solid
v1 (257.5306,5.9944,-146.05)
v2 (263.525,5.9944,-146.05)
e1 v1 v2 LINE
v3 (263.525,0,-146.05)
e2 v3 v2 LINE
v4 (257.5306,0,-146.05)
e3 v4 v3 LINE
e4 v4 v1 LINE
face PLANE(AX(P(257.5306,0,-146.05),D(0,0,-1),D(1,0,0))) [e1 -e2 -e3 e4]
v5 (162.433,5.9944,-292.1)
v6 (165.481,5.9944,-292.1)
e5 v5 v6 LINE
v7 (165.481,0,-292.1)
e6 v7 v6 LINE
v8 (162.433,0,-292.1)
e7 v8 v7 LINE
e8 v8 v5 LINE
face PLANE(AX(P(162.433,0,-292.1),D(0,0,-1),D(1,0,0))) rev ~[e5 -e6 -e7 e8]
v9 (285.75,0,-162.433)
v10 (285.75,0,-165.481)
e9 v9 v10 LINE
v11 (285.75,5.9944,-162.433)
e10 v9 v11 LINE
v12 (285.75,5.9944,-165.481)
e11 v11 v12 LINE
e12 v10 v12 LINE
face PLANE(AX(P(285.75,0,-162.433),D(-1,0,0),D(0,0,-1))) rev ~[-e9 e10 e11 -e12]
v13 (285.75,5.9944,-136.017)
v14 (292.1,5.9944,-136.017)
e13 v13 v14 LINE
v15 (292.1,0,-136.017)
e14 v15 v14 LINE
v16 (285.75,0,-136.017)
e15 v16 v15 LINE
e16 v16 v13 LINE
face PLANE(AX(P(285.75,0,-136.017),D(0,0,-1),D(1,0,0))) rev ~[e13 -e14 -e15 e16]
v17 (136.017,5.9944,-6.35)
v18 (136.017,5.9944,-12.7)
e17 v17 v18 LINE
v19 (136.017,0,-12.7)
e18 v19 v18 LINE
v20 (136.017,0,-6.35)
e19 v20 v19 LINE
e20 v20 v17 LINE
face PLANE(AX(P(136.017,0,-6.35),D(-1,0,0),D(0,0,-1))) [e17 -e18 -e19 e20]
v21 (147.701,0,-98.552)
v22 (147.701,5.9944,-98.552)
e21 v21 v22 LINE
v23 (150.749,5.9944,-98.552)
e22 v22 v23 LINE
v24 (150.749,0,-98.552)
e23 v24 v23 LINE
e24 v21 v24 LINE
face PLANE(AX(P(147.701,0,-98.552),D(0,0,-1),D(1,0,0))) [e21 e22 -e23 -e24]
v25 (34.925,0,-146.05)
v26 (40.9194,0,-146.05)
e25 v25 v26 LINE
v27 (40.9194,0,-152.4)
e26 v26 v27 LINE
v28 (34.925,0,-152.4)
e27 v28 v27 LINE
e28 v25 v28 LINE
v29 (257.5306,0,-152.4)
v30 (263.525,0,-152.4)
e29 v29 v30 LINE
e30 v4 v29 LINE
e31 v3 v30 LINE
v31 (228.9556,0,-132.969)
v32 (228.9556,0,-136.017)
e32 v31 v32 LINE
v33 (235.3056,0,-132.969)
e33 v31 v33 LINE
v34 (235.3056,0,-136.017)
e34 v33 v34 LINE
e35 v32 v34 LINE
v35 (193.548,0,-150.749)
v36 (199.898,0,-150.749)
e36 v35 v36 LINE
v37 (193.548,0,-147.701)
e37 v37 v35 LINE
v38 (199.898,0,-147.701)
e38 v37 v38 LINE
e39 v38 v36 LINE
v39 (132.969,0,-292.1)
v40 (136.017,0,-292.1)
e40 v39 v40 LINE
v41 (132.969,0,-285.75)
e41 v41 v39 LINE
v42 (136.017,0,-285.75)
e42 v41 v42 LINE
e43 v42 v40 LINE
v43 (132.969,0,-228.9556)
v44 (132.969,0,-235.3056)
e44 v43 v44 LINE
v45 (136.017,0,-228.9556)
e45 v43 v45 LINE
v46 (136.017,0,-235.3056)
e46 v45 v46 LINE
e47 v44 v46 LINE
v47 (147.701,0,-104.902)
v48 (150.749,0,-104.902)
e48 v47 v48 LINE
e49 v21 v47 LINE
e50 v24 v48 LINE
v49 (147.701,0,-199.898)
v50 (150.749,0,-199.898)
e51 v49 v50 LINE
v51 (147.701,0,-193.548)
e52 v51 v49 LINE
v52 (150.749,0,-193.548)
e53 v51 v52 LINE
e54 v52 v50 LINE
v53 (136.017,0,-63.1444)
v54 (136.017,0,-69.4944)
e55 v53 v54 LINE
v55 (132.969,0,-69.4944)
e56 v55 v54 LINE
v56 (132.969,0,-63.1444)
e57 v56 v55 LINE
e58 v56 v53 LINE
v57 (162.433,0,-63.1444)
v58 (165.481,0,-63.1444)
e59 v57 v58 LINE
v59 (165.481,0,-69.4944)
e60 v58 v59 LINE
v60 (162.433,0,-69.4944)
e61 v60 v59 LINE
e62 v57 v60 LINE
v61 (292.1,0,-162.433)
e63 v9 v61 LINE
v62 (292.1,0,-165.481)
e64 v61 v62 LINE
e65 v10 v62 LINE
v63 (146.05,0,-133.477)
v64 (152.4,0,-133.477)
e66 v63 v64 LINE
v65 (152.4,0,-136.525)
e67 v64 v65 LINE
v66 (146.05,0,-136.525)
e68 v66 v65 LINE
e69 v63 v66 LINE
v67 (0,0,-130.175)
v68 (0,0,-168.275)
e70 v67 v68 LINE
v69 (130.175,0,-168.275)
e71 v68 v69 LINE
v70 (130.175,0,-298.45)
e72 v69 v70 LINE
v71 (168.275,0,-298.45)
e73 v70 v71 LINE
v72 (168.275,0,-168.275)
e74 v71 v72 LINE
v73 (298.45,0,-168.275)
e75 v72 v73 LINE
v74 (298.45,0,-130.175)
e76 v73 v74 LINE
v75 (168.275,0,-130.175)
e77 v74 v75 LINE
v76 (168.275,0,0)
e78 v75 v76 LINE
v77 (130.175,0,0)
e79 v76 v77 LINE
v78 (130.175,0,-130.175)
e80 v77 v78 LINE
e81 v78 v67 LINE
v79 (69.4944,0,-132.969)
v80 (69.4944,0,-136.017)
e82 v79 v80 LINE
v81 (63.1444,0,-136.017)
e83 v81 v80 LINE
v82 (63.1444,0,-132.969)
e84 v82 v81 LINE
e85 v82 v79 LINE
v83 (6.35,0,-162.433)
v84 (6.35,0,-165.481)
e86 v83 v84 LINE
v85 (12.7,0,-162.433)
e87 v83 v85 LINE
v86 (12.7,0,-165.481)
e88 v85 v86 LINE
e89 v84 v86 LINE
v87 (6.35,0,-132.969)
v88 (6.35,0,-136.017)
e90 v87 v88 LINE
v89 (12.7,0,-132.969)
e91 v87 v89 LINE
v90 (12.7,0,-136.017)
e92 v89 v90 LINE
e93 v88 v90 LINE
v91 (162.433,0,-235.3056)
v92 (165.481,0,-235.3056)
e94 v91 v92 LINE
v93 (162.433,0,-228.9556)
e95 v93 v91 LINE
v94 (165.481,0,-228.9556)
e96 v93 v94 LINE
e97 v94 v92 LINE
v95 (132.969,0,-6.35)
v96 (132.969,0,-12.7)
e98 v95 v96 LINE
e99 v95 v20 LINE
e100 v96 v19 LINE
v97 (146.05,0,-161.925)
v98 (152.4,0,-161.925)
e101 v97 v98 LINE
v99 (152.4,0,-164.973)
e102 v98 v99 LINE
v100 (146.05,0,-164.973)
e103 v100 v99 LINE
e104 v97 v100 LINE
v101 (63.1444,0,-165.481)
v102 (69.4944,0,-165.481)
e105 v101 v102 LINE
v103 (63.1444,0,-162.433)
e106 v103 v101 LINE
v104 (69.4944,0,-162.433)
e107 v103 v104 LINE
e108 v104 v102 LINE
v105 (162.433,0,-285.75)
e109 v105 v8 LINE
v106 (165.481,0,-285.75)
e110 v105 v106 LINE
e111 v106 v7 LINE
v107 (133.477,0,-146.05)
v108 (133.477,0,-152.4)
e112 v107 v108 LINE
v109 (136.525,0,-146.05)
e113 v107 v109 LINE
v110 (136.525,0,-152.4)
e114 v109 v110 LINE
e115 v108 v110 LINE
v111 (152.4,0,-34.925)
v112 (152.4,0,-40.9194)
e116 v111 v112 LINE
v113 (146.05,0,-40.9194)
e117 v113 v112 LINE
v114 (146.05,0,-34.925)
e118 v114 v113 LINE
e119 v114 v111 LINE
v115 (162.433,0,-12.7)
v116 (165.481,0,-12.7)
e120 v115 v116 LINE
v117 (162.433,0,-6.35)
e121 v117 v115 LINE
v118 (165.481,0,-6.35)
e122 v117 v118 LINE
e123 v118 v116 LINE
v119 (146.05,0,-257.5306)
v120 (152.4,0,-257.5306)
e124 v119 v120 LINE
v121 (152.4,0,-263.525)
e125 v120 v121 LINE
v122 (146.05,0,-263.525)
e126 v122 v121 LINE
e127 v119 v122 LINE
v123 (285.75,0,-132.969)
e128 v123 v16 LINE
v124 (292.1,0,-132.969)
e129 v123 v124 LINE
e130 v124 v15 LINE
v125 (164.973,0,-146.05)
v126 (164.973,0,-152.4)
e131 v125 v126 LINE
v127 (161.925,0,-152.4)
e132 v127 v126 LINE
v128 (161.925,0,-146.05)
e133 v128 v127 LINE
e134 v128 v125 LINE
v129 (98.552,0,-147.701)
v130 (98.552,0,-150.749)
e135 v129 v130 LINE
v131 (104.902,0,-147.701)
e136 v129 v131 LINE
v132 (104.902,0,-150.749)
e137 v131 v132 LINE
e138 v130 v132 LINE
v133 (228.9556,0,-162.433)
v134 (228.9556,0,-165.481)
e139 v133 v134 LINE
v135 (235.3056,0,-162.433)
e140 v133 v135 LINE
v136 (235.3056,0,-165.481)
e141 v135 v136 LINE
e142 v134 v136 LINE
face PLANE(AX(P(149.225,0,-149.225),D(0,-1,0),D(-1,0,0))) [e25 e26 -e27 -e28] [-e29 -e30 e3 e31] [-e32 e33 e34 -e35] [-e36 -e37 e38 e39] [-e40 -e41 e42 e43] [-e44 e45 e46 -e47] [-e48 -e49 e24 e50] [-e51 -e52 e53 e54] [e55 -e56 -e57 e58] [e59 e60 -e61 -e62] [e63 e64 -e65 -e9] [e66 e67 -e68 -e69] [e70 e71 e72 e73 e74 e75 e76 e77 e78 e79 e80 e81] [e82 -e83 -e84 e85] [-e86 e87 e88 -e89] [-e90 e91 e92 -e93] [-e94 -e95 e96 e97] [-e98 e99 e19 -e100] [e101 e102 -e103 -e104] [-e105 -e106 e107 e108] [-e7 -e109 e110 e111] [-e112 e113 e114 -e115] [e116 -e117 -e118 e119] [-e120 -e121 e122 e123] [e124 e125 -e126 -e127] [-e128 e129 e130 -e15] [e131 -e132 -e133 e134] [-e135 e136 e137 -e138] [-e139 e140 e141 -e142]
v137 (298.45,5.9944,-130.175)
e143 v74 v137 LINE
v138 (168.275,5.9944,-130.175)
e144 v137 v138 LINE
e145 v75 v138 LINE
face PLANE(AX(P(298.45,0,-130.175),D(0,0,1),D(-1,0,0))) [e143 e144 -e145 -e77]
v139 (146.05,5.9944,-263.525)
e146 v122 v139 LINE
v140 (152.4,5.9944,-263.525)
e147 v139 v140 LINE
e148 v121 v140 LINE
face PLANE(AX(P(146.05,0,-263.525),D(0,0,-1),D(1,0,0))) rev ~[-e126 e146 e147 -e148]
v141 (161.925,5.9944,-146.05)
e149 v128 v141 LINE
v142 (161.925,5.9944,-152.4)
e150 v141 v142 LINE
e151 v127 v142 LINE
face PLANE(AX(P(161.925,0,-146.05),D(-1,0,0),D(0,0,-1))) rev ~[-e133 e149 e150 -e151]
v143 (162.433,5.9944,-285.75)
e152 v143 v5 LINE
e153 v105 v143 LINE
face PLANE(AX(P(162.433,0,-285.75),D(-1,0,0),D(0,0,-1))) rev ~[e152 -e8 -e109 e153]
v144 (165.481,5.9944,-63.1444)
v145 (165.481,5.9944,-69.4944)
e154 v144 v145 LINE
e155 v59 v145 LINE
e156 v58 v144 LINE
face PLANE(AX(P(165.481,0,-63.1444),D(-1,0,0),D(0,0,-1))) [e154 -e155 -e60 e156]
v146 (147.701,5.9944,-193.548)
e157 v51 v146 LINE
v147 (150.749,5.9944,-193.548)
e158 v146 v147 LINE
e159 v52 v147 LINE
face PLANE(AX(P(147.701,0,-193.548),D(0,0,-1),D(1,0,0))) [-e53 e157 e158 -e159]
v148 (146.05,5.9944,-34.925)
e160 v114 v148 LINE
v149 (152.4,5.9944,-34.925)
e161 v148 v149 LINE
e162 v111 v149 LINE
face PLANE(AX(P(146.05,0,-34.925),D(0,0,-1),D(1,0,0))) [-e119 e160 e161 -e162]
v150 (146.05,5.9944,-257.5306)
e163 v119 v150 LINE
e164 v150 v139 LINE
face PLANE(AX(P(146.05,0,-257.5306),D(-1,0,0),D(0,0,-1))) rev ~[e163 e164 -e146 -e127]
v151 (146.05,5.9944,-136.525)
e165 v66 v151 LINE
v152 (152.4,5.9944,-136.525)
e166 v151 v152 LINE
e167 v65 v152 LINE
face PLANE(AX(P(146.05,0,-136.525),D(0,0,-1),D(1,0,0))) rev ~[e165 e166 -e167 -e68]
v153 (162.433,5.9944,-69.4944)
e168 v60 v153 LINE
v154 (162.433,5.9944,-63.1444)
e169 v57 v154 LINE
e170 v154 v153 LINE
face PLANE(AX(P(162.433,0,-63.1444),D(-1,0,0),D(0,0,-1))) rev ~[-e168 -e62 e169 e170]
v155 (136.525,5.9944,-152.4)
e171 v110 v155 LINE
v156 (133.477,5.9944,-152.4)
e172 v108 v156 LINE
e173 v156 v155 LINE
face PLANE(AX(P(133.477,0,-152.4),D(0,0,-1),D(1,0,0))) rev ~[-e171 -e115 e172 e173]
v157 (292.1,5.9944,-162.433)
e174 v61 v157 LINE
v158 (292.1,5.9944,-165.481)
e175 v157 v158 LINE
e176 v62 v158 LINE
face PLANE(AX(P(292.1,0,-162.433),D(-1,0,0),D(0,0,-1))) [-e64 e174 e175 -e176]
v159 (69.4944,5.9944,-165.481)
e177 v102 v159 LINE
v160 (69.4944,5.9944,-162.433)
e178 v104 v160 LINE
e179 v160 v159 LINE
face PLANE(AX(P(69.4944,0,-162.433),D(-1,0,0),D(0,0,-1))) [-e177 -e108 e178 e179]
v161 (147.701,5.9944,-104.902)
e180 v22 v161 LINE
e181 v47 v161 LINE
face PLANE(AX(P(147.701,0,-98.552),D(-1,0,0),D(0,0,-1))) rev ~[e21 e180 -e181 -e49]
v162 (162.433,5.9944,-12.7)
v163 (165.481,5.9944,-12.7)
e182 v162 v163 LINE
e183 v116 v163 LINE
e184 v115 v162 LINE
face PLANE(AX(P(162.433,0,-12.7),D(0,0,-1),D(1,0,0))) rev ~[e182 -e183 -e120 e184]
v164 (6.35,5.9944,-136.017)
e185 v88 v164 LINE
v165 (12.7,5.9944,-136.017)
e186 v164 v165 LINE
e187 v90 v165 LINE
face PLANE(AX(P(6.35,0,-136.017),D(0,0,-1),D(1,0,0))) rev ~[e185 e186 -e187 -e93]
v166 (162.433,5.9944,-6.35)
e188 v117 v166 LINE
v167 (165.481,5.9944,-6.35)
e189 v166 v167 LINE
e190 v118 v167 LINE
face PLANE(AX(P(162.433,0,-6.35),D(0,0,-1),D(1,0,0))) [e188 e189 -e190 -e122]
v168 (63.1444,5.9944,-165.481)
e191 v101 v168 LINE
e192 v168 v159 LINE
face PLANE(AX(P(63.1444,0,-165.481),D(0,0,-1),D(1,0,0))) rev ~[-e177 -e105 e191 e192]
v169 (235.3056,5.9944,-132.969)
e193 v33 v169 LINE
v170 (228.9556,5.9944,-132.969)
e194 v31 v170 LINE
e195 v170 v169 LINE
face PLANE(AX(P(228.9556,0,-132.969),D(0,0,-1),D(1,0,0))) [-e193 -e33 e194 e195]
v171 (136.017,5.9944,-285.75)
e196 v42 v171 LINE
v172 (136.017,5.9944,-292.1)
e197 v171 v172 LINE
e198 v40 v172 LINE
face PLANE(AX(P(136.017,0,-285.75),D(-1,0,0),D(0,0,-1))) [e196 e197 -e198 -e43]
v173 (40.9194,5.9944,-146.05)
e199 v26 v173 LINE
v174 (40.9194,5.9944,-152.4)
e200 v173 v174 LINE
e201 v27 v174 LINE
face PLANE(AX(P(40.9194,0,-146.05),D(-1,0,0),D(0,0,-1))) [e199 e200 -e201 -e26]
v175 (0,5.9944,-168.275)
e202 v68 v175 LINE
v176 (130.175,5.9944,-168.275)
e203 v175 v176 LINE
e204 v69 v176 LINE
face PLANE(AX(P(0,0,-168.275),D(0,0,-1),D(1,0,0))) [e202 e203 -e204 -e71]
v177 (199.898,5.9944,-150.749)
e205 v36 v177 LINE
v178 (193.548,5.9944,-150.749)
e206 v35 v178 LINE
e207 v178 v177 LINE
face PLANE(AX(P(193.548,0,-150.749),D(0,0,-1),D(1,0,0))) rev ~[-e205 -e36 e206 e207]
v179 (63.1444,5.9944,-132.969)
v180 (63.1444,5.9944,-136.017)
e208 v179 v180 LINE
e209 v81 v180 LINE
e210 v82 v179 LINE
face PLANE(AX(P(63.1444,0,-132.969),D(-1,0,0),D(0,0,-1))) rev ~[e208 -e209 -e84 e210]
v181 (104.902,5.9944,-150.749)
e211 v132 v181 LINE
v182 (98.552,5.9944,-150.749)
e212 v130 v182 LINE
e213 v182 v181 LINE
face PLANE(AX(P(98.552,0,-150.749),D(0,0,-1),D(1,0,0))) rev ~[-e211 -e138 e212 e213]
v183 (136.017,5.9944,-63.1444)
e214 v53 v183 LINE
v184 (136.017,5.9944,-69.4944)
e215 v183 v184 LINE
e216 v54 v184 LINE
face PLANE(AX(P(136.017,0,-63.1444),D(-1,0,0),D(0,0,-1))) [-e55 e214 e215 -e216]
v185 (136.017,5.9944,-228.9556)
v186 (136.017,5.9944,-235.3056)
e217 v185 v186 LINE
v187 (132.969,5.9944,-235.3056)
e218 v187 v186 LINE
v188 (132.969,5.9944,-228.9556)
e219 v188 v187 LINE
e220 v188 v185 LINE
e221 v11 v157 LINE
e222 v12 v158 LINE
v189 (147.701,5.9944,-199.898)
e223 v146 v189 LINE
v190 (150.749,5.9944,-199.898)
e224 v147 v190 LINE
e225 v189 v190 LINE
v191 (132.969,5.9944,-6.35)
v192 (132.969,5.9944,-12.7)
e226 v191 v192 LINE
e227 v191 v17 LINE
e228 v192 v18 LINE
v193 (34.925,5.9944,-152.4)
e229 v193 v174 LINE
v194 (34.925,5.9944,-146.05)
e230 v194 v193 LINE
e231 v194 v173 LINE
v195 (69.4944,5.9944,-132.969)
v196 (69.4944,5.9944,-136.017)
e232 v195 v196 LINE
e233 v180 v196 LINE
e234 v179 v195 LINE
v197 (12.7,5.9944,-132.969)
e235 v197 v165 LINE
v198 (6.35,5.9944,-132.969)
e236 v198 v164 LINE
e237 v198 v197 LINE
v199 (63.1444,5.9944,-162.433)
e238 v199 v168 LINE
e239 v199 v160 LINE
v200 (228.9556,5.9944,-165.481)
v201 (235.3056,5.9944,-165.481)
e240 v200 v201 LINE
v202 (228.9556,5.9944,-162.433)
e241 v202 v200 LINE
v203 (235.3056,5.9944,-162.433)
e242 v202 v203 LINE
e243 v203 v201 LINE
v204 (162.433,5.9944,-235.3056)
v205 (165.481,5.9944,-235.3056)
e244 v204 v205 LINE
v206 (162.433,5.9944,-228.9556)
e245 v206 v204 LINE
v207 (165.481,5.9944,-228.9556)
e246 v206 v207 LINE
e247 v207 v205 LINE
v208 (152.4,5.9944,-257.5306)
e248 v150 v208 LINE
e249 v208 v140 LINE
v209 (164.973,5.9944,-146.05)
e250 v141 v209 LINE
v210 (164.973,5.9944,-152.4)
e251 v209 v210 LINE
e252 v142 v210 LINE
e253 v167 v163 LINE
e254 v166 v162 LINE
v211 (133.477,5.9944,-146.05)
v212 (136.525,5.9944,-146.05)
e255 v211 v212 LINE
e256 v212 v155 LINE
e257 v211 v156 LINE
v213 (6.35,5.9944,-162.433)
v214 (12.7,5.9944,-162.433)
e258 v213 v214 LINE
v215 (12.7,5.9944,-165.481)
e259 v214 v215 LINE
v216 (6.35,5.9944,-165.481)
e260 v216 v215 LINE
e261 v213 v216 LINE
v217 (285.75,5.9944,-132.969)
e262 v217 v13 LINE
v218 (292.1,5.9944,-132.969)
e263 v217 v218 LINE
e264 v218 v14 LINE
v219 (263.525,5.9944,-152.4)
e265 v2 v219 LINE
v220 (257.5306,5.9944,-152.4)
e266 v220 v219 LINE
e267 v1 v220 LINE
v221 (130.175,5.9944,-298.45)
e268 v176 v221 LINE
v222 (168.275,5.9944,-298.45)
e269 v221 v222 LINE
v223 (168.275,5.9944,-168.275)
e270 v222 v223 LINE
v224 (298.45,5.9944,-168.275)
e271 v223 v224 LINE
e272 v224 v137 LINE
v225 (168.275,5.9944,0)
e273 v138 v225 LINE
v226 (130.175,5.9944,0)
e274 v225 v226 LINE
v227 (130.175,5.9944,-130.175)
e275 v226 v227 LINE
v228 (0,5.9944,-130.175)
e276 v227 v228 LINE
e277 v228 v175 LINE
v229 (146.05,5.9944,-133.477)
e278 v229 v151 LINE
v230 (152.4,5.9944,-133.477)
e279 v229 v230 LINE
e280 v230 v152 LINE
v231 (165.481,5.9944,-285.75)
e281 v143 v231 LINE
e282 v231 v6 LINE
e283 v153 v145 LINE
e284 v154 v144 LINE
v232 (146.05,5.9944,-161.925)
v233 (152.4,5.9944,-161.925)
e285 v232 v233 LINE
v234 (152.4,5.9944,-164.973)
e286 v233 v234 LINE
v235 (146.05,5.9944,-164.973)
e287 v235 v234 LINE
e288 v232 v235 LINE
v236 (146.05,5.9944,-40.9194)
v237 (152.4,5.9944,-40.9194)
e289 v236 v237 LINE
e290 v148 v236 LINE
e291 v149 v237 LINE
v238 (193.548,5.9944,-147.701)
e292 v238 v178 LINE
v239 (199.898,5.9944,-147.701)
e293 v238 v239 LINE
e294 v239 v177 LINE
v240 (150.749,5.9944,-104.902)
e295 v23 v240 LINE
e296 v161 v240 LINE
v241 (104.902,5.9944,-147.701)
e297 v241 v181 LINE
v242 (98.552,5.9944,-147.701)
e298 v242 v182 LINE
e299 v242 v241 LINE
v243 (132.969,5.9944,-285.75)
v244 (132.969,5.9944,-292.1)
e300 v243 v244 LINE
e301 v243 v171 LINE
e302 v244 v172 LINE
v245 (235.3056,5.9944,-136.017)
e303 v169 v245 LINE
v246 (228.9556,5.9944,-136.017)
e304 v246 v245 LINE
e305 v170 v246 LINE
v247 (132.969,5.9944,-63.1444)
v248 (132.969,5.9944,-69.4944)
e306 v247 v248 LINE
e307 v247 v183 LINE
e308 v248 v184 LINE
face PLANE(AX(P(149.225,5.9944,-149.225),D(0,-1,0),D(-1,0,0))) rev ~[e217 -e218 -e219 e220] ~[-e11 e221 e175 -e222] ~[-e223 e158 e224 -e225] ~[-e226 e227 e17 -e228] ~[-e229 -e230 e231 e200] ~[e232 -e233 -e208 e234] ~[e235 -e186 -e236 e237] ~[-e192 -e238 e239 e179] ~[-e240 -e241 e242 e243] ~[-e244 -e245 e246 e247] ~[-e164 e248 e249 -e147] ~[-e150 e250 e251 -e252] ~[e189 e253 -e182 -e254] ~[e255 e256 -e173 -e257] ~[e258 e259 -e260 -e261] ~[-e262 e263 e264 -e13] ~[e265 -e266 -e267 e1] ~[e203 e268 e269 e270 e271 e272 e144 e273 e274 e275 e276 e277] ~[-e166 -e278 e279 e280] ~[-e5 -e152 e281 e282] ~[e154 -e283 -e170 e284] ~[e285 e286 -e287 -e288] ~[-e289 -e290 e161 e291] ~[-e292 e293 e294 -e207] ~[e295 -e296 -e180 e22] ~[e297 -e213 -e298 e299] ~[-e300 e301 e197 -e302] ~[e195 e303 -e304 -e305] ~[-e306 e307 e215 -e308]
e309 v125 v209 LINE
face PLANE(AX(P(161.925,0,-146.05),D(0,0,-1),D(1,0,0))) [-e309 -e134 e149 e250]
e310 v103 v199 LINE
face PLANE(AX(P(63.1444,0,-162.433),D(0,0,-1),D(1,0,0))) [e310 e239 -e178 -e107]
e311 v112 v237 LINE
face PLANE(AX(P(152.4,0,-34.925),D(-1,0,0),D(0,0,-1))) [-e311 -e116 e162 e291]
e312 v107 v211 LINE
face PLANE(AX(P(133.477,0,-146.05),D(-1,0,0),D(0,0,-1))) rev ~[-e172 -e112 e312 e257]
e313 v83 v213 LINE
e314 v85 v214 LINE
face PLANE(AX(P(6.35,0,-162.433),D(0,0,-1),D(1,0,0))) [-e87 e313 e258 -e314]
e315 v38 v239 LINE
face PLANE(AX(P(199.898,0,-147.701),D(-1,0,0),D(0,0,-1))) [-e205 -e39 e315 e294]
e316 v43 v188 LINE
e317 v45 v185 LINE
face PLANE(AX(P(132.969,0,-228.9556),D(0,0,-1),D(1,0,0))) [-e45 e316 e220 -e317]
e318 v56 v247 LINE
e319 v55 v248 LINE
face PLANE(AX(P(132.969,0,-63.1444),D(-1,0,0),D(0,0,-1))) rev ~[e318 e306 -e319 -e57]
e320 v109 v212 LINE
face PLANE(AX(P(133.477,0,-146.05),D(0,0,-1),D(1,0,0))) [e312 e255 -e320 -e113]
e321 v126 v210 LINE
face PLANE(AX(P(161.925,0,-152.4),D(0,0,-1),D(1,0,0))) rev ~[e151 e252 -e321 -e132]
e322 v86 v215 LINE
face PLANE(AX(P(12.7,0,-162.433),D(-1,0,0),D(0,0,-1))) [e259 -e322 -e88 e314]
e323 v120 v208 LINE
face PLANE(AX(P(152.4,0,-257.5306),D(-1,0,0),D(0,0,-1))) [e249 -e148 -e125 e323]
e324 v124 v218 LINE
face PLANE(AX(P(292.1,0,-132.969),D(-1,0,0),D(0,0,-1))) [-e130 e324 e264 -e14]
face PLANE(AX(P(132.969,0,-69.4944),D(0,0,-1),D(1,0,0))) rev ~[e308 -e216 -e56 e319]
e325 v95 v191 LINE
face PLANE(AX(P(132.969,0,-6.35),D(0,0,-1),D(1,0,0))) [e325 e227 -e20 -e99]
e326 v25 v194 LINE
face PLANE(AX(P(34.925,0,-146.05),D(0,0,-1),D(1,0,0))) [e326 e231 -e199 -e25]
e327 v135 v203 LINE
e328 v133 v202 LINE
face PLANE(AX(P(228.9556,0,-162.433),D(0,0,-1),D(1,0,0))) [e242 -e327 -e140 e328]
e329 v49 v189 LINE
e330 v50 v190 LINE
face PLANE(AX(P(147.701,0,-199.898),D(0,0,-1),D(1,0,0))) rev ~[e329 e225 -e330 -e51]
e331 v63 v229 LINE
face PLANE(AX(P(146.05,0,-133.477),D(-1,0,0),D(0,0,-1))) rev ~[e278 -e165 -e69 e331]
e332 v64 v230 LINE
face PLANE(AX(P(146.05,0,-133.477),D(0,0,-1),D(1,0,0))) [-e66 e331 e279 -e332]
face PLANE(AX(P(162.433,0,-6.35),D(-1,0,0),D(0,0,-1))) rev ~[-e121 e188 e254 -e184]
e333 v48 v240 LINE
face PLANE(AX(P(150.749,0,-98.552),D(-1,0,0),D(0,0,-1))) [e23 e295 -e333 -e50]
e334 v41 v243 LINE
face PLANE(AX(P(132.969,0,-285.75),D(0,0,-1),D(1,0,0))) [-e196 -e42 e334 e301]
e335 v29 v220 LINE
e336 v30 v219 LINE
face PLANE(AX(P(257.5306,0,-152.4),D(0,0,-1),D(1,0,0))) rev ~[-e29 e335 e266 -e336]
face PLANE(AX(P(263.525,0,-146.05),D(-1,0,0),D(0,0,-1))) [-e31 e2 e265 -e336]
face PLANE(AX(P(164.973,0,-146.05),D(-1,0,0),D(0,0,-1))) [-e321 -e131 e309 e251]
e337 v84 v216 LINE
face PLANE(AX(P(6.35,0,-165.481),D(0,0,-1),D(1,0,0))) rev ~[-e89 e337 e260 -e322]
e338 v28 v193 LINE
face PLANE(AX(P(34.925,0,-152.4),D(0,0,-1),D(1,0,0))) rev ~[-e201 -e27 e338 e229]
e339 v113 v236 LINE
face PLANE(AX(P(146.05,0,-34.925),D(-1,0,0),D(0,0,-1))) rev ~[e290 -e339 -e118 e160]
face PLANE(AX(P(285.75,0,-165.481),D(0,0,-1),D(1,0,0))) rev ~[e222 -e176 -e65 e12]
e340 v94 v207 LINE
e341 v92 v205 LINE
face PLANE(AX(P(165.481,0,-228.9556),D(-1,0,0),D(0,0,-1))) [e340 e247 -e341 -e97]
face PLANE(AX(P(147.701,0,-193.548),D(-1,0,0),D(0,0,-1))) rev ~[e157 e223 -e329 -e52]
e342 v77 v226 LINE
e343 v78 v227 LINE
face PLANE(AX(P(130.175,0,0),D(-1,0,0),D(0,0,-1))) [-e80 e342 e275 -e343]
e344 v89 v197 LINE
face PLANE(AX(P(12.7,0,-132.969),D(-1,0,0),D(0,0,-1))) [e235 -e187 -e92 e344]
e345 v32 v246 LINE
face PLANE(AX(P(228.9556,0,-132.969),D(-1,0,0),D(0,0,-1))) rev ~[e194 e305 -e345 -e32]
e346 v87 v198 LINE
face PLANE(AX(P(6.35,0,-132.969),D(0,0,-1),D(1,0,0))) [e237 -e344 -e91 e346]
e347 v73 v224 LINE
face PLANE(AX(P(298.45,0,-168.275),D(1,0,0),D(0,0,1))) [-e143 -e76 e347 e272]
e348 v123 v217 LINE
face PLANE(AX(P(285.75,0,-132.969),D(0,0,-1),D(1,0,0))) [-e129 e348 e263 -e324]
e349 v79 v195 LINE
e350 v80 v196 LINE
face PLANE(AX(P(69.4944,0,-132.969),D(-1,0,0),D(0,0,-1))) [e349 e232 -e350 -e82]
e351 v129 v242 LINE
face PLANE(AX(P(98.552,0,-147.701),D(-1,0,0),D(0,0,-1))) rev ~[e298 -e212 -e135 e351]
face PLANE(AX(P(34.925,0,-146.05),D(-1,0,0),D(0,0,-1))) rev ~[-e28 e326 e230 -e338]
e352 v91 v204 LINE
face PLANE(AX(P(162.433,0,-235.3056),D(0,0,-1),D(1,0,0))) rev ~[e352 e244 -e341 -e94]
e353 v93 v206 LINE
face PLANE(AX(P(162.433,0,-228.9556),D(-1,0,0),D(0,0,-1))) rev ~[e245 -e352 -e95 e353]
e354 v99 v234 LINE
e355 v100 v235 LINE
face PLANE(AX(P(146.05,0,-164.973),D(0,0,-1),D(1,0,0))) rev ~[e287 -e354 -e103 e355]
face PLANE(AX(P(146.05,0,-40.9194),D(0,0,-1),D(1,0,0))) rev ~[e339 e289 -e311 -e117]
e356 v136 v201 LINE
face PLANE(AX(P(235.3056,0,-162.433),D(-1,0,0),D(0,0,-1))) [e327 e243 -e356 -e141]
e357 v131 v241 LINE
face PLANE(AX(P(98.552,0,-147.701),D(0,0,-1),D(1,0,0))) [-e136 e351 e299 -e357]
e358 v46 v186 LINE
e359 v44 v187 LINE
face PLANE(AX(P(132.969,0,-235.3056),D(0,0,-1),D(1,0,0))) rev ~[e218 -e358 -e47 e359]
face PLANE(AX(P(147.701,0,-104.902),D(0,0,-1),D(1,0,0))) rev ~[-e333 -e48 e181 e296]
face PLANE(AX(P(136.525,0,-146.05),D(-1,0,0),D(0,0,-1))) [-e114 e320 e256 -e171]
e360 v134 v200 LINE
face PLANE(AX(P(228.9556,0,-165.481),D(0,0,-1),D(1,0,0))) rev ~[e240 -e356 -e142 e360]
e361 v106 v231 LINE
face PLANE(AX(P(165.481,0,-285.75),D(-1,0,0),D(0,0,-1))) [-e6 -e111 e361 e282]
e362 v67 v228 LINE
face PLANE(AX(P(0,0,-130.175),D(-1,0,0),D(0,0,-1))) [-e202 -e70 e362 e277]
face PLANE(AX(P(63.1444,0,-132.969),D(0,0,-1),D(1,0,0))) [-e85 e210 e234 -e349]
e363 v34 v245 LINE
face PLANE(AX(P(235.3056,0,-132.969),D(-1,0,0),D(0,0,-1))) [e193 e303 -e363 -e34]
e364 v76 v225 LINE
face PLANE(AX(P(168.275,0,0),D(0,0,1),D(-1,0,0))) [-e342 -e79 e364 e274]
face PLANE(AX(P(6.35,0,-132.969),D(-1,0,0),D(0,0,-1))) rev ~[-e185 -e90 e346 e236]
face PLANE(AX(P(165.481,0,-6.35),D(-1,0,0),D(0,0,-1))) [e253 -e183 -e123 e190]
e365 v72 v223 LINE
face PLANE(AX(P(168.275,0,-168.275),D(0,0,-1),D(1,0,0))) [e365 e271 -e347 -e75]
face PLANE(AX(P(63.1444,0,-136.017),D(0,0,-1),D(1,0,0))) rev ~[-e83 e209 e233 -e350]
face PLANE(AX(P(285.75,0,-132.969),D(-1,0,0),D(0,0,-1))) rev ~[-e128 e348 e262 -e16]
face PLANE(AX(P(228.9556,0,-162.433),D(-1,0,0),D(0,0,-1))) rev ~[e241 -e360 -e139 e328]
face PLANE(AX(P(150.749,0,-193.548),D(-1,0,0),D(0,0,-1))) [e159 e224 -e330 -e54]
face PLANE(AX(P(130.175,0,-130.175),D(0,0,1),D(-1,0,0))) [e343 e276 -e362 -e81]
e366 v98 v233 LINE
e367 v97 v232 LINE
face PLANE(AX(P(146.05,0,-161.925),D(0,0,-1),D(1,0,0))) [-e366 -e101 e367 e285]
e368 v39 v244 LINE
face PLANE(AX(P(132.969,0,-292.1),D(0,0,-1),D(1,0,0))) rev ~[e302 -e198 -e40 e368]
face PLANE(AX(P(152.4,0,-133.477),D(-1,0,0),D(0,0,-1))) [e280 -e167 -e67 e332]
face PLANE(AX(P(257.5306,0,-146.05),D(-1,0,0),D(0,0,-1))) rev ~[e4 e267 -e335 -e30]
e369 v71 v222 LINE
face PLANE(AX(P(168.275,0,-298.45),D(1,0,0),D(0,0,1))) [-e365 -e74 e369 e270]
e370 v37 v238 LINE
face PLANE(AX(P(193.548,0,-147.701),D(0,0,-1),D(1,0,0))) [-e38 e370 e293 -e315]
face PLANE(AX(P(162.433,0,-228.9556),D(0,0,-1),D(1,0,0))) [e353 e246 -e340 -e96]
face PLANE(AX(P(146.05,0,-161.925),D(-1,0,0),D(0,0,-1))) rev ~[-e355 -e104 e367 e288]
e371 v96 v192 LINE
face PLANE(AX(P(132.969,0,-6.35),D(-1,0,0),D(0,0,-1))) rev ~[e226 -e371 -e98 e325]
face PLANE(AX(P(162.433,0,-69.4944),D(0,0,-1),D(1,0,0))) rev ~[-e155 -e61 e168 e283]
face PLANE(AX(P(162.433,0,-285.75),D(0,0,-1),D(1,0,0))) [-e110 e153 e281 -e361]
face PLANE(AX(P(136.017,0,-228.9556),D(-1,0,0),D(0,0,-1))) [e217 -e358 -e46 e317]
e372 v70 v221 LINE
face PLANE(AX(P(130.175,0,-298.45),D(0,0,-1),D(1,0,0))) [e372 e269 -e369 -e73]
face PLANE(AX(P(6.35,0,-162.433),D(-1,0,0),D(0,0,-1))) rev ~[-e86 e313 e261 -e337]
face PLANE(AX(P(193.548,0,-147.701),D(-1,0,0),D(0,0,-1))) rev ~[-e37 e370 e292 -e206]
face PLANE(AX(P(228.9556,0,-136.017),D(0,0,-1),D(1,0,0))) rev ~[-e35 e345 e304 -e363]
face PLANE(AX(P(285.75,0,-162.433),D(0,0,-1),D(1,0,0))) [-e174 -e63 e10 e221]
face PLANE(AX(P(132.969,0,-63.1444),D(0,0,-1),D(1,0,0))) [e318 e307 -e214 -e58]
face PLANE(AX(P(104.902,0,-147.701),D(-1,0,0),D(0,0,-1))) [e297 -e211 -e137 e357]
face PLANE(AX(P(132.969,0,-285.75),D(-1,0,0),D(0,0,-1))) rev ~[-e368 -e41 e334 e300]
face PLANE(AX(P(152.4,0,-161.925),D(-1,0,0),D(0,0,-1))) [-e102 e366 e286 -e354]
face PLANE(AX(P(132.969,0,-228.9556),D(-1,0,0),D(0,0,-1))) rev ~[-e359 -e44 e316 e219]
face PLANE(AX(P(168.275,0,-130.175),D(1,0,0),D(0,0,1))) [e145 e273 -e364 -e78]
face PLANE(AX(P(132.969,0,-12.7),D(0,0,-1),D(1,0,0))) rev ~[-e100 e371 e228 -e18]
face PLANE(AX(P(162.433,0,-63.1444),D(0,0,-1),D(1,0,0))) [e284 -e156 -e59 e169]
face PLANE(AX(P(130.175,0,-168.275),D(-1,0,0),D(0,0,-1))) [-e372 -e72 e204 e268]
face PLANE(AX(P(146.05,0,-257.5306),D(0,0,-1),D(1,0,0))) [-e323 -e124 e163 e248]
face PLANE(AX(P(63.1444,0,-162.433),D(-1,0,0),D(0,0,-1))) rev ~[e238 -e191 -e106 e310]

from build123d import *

# Parameters (mm, degrees)
SKETCH1_W           = 3.048
SKETCH1_H           = 6.35
SKETCH1_W_2         = 6.35
SKETCH1_H_2         = 3.048
SKETCH1_W_3         = 5.9944
SKETCH1_H_3         = 5.9944
BOSS_EXTRUDE1_DEPTH = 5.9944


with BuildPart() as part:
    # Sketch1 → Boss-Extrude1 (new body)
    with BuildSketch(Plane(origin=(0, 0, 0), x_dir=(1, 0, 0), z_dir=(0, 1, 0))):
        Polygon((130.175, 0), (130.175, 130.175), (0, 130.175), (0, 168.275), (130.175, 168.275), (130.175, 298.45), (168.275, 298.45), (168.275, 168.275), (298.45, 168.275), (298.45, 130.175), (168.275, 130.175), (168.275, 0), align=None)
        with Locations((163.957, 9.525)):
            Rectangle(SKETCH1_W, SKETCH1_H, mode=Mode.SUBTRACT)
        with Locations((134.493, 9.525)):
            Rectangle(SKETCH1_W, SKETCH1_H, mode=Mode.SUBTRACT)
        with Locations((288.925, 163.957)):
            Rectangle(SKETCH1_W_2, SKETCH1_H_2, mode=Mode.SUBTRACT)
        with Locations((288.925, 134.493)):
            Rectangle(SKETCH1_W_2, SKETCH1_H_2, mode=Mode.SUBTRACT)
        with Locations((149.225, 196.723)):
            Rectangle(SKETCH1_W, SKETCH1_H, mode=Mode.SUBTRACT)
        with Locations((101.727, 149.225)):
            Rectangle(SKETCH1_W_2, SKETCH1_H_2, mode=Mode.SUBTRACT)
        with Locations((149.225, 163.449)):
            Rectangle(SKETCH1_W_2, SKETCH1_H_2, mode=Mode.SUBTRACT)
        with Locations((135.001, 149.225)):
            Rectangle(SKETCH1_W, SKETCH1_H, mode=Mode.SUBTRACT)
        with Locations((163.449, 149.225)):
            Rectangle(SKETCH1_W, SKETCH1_H, mode=Mode.SUBTRACT)
        with Locations((196.723, 149.225)):
            Rectangle(SKETCH1_W_2, SKETCH1_H_2, mode=Mode.SUBTRACT)
        with Locations((149.225, 135.001)):
            Rectangle(SKETCH1_W_2, SKETCH1_H_2, mode=Mode.SUBTRACT)
        with Locations((149.225, 101.727)):
            Rectangle(SKETCH1_W, SKETCH1_H, mode=Mode.SUBTRACT)
        with Locations((134.493, 66.3194)):
            Rectangle(SKETCH1_W, SKETCH1_H, mode=Mode.SUBTRACT)
        with Locations((163.957, 66.3194)):
            Rectangle(SKETCH1_W, SKETCH1_H, mode=Mode.SUBTRACT)
        with Locations((232.1306, 134.493)):
            Rectangle(SKETCH1_W_2, SKETCH1_H_2, mode=Mode.SUBTRACT)
        with Locations((232.1306, 163.957)):
            Rectangle(SKETCH1_W_2, SKETCH1_H_2, mode=Mode.SUBTRACT)
        with Locations((260.5278, 149.225)):
            Rectangle(SKETCH1_W_3, SKETCH1_H, mode=Mode.SUBTRACT)
        with Locations((149.225, 37.9222)):
            Rectangle(SKETCH1_W_2, SKETCH1_H_3, mode=Mode.SUBTRACT)
        with Locations((149.225, 260.5278)):
            Rectangle(SKETCH1_W_2, SKETCH1_H_3, mode=Mode.SUBTRACT)
        with Locations((163.957, 232.1306)):
            Rectangle(SKETCH1_W, SKETCH1_H, mode=Mode.SUBTRACT)
        with Locations((134.493, 232.1306)):
            Rectangle(SKETCH1_W, SKETCH1_H, mode=Mode.SUBTRACT)
        with Locations((134.493, 288.925)):
            Rectangle(SKETCH1_W, SKETCH1_H, mode=Mode.SUBTRACT)
        with Locations((163.957, 288.925)):
            Rectangle(SKETCH1_W, SKETCH1_H, mode=Mode.SUBTRACT)
        with Locations((37.9222, 149.225)):
            Rectangle(SKETCH1_W_3, SKETCH1_H, mode=Mode.SUBTRACT)
        with Locations((66.3194, 163.957)):
            Rectangle(SKETCH1_W_2, SKETCH1_H_2, mode=Mode.SUBTRACT)
        with Locations((66.3194, 134.493)):
            Rectangle(SKETCH1_W_2, SKETCH1_H_2, mode=Mode.SUBTRACT)
        with Locations((9.525, 134.493)):
            Rectangle(SKETCH1_W_2, SKETCH1_H_2, mode=Mode.SUBTRACT)
        with Locations((9.525, 163.957)):
            Rectangle(SKETCH1_W_2, SKETCH1_H_2, mode=Mode.SUBTRACT)
    extrude(amount=BOSS_EXTRUDE1_DEPTH)


solid = part.part
